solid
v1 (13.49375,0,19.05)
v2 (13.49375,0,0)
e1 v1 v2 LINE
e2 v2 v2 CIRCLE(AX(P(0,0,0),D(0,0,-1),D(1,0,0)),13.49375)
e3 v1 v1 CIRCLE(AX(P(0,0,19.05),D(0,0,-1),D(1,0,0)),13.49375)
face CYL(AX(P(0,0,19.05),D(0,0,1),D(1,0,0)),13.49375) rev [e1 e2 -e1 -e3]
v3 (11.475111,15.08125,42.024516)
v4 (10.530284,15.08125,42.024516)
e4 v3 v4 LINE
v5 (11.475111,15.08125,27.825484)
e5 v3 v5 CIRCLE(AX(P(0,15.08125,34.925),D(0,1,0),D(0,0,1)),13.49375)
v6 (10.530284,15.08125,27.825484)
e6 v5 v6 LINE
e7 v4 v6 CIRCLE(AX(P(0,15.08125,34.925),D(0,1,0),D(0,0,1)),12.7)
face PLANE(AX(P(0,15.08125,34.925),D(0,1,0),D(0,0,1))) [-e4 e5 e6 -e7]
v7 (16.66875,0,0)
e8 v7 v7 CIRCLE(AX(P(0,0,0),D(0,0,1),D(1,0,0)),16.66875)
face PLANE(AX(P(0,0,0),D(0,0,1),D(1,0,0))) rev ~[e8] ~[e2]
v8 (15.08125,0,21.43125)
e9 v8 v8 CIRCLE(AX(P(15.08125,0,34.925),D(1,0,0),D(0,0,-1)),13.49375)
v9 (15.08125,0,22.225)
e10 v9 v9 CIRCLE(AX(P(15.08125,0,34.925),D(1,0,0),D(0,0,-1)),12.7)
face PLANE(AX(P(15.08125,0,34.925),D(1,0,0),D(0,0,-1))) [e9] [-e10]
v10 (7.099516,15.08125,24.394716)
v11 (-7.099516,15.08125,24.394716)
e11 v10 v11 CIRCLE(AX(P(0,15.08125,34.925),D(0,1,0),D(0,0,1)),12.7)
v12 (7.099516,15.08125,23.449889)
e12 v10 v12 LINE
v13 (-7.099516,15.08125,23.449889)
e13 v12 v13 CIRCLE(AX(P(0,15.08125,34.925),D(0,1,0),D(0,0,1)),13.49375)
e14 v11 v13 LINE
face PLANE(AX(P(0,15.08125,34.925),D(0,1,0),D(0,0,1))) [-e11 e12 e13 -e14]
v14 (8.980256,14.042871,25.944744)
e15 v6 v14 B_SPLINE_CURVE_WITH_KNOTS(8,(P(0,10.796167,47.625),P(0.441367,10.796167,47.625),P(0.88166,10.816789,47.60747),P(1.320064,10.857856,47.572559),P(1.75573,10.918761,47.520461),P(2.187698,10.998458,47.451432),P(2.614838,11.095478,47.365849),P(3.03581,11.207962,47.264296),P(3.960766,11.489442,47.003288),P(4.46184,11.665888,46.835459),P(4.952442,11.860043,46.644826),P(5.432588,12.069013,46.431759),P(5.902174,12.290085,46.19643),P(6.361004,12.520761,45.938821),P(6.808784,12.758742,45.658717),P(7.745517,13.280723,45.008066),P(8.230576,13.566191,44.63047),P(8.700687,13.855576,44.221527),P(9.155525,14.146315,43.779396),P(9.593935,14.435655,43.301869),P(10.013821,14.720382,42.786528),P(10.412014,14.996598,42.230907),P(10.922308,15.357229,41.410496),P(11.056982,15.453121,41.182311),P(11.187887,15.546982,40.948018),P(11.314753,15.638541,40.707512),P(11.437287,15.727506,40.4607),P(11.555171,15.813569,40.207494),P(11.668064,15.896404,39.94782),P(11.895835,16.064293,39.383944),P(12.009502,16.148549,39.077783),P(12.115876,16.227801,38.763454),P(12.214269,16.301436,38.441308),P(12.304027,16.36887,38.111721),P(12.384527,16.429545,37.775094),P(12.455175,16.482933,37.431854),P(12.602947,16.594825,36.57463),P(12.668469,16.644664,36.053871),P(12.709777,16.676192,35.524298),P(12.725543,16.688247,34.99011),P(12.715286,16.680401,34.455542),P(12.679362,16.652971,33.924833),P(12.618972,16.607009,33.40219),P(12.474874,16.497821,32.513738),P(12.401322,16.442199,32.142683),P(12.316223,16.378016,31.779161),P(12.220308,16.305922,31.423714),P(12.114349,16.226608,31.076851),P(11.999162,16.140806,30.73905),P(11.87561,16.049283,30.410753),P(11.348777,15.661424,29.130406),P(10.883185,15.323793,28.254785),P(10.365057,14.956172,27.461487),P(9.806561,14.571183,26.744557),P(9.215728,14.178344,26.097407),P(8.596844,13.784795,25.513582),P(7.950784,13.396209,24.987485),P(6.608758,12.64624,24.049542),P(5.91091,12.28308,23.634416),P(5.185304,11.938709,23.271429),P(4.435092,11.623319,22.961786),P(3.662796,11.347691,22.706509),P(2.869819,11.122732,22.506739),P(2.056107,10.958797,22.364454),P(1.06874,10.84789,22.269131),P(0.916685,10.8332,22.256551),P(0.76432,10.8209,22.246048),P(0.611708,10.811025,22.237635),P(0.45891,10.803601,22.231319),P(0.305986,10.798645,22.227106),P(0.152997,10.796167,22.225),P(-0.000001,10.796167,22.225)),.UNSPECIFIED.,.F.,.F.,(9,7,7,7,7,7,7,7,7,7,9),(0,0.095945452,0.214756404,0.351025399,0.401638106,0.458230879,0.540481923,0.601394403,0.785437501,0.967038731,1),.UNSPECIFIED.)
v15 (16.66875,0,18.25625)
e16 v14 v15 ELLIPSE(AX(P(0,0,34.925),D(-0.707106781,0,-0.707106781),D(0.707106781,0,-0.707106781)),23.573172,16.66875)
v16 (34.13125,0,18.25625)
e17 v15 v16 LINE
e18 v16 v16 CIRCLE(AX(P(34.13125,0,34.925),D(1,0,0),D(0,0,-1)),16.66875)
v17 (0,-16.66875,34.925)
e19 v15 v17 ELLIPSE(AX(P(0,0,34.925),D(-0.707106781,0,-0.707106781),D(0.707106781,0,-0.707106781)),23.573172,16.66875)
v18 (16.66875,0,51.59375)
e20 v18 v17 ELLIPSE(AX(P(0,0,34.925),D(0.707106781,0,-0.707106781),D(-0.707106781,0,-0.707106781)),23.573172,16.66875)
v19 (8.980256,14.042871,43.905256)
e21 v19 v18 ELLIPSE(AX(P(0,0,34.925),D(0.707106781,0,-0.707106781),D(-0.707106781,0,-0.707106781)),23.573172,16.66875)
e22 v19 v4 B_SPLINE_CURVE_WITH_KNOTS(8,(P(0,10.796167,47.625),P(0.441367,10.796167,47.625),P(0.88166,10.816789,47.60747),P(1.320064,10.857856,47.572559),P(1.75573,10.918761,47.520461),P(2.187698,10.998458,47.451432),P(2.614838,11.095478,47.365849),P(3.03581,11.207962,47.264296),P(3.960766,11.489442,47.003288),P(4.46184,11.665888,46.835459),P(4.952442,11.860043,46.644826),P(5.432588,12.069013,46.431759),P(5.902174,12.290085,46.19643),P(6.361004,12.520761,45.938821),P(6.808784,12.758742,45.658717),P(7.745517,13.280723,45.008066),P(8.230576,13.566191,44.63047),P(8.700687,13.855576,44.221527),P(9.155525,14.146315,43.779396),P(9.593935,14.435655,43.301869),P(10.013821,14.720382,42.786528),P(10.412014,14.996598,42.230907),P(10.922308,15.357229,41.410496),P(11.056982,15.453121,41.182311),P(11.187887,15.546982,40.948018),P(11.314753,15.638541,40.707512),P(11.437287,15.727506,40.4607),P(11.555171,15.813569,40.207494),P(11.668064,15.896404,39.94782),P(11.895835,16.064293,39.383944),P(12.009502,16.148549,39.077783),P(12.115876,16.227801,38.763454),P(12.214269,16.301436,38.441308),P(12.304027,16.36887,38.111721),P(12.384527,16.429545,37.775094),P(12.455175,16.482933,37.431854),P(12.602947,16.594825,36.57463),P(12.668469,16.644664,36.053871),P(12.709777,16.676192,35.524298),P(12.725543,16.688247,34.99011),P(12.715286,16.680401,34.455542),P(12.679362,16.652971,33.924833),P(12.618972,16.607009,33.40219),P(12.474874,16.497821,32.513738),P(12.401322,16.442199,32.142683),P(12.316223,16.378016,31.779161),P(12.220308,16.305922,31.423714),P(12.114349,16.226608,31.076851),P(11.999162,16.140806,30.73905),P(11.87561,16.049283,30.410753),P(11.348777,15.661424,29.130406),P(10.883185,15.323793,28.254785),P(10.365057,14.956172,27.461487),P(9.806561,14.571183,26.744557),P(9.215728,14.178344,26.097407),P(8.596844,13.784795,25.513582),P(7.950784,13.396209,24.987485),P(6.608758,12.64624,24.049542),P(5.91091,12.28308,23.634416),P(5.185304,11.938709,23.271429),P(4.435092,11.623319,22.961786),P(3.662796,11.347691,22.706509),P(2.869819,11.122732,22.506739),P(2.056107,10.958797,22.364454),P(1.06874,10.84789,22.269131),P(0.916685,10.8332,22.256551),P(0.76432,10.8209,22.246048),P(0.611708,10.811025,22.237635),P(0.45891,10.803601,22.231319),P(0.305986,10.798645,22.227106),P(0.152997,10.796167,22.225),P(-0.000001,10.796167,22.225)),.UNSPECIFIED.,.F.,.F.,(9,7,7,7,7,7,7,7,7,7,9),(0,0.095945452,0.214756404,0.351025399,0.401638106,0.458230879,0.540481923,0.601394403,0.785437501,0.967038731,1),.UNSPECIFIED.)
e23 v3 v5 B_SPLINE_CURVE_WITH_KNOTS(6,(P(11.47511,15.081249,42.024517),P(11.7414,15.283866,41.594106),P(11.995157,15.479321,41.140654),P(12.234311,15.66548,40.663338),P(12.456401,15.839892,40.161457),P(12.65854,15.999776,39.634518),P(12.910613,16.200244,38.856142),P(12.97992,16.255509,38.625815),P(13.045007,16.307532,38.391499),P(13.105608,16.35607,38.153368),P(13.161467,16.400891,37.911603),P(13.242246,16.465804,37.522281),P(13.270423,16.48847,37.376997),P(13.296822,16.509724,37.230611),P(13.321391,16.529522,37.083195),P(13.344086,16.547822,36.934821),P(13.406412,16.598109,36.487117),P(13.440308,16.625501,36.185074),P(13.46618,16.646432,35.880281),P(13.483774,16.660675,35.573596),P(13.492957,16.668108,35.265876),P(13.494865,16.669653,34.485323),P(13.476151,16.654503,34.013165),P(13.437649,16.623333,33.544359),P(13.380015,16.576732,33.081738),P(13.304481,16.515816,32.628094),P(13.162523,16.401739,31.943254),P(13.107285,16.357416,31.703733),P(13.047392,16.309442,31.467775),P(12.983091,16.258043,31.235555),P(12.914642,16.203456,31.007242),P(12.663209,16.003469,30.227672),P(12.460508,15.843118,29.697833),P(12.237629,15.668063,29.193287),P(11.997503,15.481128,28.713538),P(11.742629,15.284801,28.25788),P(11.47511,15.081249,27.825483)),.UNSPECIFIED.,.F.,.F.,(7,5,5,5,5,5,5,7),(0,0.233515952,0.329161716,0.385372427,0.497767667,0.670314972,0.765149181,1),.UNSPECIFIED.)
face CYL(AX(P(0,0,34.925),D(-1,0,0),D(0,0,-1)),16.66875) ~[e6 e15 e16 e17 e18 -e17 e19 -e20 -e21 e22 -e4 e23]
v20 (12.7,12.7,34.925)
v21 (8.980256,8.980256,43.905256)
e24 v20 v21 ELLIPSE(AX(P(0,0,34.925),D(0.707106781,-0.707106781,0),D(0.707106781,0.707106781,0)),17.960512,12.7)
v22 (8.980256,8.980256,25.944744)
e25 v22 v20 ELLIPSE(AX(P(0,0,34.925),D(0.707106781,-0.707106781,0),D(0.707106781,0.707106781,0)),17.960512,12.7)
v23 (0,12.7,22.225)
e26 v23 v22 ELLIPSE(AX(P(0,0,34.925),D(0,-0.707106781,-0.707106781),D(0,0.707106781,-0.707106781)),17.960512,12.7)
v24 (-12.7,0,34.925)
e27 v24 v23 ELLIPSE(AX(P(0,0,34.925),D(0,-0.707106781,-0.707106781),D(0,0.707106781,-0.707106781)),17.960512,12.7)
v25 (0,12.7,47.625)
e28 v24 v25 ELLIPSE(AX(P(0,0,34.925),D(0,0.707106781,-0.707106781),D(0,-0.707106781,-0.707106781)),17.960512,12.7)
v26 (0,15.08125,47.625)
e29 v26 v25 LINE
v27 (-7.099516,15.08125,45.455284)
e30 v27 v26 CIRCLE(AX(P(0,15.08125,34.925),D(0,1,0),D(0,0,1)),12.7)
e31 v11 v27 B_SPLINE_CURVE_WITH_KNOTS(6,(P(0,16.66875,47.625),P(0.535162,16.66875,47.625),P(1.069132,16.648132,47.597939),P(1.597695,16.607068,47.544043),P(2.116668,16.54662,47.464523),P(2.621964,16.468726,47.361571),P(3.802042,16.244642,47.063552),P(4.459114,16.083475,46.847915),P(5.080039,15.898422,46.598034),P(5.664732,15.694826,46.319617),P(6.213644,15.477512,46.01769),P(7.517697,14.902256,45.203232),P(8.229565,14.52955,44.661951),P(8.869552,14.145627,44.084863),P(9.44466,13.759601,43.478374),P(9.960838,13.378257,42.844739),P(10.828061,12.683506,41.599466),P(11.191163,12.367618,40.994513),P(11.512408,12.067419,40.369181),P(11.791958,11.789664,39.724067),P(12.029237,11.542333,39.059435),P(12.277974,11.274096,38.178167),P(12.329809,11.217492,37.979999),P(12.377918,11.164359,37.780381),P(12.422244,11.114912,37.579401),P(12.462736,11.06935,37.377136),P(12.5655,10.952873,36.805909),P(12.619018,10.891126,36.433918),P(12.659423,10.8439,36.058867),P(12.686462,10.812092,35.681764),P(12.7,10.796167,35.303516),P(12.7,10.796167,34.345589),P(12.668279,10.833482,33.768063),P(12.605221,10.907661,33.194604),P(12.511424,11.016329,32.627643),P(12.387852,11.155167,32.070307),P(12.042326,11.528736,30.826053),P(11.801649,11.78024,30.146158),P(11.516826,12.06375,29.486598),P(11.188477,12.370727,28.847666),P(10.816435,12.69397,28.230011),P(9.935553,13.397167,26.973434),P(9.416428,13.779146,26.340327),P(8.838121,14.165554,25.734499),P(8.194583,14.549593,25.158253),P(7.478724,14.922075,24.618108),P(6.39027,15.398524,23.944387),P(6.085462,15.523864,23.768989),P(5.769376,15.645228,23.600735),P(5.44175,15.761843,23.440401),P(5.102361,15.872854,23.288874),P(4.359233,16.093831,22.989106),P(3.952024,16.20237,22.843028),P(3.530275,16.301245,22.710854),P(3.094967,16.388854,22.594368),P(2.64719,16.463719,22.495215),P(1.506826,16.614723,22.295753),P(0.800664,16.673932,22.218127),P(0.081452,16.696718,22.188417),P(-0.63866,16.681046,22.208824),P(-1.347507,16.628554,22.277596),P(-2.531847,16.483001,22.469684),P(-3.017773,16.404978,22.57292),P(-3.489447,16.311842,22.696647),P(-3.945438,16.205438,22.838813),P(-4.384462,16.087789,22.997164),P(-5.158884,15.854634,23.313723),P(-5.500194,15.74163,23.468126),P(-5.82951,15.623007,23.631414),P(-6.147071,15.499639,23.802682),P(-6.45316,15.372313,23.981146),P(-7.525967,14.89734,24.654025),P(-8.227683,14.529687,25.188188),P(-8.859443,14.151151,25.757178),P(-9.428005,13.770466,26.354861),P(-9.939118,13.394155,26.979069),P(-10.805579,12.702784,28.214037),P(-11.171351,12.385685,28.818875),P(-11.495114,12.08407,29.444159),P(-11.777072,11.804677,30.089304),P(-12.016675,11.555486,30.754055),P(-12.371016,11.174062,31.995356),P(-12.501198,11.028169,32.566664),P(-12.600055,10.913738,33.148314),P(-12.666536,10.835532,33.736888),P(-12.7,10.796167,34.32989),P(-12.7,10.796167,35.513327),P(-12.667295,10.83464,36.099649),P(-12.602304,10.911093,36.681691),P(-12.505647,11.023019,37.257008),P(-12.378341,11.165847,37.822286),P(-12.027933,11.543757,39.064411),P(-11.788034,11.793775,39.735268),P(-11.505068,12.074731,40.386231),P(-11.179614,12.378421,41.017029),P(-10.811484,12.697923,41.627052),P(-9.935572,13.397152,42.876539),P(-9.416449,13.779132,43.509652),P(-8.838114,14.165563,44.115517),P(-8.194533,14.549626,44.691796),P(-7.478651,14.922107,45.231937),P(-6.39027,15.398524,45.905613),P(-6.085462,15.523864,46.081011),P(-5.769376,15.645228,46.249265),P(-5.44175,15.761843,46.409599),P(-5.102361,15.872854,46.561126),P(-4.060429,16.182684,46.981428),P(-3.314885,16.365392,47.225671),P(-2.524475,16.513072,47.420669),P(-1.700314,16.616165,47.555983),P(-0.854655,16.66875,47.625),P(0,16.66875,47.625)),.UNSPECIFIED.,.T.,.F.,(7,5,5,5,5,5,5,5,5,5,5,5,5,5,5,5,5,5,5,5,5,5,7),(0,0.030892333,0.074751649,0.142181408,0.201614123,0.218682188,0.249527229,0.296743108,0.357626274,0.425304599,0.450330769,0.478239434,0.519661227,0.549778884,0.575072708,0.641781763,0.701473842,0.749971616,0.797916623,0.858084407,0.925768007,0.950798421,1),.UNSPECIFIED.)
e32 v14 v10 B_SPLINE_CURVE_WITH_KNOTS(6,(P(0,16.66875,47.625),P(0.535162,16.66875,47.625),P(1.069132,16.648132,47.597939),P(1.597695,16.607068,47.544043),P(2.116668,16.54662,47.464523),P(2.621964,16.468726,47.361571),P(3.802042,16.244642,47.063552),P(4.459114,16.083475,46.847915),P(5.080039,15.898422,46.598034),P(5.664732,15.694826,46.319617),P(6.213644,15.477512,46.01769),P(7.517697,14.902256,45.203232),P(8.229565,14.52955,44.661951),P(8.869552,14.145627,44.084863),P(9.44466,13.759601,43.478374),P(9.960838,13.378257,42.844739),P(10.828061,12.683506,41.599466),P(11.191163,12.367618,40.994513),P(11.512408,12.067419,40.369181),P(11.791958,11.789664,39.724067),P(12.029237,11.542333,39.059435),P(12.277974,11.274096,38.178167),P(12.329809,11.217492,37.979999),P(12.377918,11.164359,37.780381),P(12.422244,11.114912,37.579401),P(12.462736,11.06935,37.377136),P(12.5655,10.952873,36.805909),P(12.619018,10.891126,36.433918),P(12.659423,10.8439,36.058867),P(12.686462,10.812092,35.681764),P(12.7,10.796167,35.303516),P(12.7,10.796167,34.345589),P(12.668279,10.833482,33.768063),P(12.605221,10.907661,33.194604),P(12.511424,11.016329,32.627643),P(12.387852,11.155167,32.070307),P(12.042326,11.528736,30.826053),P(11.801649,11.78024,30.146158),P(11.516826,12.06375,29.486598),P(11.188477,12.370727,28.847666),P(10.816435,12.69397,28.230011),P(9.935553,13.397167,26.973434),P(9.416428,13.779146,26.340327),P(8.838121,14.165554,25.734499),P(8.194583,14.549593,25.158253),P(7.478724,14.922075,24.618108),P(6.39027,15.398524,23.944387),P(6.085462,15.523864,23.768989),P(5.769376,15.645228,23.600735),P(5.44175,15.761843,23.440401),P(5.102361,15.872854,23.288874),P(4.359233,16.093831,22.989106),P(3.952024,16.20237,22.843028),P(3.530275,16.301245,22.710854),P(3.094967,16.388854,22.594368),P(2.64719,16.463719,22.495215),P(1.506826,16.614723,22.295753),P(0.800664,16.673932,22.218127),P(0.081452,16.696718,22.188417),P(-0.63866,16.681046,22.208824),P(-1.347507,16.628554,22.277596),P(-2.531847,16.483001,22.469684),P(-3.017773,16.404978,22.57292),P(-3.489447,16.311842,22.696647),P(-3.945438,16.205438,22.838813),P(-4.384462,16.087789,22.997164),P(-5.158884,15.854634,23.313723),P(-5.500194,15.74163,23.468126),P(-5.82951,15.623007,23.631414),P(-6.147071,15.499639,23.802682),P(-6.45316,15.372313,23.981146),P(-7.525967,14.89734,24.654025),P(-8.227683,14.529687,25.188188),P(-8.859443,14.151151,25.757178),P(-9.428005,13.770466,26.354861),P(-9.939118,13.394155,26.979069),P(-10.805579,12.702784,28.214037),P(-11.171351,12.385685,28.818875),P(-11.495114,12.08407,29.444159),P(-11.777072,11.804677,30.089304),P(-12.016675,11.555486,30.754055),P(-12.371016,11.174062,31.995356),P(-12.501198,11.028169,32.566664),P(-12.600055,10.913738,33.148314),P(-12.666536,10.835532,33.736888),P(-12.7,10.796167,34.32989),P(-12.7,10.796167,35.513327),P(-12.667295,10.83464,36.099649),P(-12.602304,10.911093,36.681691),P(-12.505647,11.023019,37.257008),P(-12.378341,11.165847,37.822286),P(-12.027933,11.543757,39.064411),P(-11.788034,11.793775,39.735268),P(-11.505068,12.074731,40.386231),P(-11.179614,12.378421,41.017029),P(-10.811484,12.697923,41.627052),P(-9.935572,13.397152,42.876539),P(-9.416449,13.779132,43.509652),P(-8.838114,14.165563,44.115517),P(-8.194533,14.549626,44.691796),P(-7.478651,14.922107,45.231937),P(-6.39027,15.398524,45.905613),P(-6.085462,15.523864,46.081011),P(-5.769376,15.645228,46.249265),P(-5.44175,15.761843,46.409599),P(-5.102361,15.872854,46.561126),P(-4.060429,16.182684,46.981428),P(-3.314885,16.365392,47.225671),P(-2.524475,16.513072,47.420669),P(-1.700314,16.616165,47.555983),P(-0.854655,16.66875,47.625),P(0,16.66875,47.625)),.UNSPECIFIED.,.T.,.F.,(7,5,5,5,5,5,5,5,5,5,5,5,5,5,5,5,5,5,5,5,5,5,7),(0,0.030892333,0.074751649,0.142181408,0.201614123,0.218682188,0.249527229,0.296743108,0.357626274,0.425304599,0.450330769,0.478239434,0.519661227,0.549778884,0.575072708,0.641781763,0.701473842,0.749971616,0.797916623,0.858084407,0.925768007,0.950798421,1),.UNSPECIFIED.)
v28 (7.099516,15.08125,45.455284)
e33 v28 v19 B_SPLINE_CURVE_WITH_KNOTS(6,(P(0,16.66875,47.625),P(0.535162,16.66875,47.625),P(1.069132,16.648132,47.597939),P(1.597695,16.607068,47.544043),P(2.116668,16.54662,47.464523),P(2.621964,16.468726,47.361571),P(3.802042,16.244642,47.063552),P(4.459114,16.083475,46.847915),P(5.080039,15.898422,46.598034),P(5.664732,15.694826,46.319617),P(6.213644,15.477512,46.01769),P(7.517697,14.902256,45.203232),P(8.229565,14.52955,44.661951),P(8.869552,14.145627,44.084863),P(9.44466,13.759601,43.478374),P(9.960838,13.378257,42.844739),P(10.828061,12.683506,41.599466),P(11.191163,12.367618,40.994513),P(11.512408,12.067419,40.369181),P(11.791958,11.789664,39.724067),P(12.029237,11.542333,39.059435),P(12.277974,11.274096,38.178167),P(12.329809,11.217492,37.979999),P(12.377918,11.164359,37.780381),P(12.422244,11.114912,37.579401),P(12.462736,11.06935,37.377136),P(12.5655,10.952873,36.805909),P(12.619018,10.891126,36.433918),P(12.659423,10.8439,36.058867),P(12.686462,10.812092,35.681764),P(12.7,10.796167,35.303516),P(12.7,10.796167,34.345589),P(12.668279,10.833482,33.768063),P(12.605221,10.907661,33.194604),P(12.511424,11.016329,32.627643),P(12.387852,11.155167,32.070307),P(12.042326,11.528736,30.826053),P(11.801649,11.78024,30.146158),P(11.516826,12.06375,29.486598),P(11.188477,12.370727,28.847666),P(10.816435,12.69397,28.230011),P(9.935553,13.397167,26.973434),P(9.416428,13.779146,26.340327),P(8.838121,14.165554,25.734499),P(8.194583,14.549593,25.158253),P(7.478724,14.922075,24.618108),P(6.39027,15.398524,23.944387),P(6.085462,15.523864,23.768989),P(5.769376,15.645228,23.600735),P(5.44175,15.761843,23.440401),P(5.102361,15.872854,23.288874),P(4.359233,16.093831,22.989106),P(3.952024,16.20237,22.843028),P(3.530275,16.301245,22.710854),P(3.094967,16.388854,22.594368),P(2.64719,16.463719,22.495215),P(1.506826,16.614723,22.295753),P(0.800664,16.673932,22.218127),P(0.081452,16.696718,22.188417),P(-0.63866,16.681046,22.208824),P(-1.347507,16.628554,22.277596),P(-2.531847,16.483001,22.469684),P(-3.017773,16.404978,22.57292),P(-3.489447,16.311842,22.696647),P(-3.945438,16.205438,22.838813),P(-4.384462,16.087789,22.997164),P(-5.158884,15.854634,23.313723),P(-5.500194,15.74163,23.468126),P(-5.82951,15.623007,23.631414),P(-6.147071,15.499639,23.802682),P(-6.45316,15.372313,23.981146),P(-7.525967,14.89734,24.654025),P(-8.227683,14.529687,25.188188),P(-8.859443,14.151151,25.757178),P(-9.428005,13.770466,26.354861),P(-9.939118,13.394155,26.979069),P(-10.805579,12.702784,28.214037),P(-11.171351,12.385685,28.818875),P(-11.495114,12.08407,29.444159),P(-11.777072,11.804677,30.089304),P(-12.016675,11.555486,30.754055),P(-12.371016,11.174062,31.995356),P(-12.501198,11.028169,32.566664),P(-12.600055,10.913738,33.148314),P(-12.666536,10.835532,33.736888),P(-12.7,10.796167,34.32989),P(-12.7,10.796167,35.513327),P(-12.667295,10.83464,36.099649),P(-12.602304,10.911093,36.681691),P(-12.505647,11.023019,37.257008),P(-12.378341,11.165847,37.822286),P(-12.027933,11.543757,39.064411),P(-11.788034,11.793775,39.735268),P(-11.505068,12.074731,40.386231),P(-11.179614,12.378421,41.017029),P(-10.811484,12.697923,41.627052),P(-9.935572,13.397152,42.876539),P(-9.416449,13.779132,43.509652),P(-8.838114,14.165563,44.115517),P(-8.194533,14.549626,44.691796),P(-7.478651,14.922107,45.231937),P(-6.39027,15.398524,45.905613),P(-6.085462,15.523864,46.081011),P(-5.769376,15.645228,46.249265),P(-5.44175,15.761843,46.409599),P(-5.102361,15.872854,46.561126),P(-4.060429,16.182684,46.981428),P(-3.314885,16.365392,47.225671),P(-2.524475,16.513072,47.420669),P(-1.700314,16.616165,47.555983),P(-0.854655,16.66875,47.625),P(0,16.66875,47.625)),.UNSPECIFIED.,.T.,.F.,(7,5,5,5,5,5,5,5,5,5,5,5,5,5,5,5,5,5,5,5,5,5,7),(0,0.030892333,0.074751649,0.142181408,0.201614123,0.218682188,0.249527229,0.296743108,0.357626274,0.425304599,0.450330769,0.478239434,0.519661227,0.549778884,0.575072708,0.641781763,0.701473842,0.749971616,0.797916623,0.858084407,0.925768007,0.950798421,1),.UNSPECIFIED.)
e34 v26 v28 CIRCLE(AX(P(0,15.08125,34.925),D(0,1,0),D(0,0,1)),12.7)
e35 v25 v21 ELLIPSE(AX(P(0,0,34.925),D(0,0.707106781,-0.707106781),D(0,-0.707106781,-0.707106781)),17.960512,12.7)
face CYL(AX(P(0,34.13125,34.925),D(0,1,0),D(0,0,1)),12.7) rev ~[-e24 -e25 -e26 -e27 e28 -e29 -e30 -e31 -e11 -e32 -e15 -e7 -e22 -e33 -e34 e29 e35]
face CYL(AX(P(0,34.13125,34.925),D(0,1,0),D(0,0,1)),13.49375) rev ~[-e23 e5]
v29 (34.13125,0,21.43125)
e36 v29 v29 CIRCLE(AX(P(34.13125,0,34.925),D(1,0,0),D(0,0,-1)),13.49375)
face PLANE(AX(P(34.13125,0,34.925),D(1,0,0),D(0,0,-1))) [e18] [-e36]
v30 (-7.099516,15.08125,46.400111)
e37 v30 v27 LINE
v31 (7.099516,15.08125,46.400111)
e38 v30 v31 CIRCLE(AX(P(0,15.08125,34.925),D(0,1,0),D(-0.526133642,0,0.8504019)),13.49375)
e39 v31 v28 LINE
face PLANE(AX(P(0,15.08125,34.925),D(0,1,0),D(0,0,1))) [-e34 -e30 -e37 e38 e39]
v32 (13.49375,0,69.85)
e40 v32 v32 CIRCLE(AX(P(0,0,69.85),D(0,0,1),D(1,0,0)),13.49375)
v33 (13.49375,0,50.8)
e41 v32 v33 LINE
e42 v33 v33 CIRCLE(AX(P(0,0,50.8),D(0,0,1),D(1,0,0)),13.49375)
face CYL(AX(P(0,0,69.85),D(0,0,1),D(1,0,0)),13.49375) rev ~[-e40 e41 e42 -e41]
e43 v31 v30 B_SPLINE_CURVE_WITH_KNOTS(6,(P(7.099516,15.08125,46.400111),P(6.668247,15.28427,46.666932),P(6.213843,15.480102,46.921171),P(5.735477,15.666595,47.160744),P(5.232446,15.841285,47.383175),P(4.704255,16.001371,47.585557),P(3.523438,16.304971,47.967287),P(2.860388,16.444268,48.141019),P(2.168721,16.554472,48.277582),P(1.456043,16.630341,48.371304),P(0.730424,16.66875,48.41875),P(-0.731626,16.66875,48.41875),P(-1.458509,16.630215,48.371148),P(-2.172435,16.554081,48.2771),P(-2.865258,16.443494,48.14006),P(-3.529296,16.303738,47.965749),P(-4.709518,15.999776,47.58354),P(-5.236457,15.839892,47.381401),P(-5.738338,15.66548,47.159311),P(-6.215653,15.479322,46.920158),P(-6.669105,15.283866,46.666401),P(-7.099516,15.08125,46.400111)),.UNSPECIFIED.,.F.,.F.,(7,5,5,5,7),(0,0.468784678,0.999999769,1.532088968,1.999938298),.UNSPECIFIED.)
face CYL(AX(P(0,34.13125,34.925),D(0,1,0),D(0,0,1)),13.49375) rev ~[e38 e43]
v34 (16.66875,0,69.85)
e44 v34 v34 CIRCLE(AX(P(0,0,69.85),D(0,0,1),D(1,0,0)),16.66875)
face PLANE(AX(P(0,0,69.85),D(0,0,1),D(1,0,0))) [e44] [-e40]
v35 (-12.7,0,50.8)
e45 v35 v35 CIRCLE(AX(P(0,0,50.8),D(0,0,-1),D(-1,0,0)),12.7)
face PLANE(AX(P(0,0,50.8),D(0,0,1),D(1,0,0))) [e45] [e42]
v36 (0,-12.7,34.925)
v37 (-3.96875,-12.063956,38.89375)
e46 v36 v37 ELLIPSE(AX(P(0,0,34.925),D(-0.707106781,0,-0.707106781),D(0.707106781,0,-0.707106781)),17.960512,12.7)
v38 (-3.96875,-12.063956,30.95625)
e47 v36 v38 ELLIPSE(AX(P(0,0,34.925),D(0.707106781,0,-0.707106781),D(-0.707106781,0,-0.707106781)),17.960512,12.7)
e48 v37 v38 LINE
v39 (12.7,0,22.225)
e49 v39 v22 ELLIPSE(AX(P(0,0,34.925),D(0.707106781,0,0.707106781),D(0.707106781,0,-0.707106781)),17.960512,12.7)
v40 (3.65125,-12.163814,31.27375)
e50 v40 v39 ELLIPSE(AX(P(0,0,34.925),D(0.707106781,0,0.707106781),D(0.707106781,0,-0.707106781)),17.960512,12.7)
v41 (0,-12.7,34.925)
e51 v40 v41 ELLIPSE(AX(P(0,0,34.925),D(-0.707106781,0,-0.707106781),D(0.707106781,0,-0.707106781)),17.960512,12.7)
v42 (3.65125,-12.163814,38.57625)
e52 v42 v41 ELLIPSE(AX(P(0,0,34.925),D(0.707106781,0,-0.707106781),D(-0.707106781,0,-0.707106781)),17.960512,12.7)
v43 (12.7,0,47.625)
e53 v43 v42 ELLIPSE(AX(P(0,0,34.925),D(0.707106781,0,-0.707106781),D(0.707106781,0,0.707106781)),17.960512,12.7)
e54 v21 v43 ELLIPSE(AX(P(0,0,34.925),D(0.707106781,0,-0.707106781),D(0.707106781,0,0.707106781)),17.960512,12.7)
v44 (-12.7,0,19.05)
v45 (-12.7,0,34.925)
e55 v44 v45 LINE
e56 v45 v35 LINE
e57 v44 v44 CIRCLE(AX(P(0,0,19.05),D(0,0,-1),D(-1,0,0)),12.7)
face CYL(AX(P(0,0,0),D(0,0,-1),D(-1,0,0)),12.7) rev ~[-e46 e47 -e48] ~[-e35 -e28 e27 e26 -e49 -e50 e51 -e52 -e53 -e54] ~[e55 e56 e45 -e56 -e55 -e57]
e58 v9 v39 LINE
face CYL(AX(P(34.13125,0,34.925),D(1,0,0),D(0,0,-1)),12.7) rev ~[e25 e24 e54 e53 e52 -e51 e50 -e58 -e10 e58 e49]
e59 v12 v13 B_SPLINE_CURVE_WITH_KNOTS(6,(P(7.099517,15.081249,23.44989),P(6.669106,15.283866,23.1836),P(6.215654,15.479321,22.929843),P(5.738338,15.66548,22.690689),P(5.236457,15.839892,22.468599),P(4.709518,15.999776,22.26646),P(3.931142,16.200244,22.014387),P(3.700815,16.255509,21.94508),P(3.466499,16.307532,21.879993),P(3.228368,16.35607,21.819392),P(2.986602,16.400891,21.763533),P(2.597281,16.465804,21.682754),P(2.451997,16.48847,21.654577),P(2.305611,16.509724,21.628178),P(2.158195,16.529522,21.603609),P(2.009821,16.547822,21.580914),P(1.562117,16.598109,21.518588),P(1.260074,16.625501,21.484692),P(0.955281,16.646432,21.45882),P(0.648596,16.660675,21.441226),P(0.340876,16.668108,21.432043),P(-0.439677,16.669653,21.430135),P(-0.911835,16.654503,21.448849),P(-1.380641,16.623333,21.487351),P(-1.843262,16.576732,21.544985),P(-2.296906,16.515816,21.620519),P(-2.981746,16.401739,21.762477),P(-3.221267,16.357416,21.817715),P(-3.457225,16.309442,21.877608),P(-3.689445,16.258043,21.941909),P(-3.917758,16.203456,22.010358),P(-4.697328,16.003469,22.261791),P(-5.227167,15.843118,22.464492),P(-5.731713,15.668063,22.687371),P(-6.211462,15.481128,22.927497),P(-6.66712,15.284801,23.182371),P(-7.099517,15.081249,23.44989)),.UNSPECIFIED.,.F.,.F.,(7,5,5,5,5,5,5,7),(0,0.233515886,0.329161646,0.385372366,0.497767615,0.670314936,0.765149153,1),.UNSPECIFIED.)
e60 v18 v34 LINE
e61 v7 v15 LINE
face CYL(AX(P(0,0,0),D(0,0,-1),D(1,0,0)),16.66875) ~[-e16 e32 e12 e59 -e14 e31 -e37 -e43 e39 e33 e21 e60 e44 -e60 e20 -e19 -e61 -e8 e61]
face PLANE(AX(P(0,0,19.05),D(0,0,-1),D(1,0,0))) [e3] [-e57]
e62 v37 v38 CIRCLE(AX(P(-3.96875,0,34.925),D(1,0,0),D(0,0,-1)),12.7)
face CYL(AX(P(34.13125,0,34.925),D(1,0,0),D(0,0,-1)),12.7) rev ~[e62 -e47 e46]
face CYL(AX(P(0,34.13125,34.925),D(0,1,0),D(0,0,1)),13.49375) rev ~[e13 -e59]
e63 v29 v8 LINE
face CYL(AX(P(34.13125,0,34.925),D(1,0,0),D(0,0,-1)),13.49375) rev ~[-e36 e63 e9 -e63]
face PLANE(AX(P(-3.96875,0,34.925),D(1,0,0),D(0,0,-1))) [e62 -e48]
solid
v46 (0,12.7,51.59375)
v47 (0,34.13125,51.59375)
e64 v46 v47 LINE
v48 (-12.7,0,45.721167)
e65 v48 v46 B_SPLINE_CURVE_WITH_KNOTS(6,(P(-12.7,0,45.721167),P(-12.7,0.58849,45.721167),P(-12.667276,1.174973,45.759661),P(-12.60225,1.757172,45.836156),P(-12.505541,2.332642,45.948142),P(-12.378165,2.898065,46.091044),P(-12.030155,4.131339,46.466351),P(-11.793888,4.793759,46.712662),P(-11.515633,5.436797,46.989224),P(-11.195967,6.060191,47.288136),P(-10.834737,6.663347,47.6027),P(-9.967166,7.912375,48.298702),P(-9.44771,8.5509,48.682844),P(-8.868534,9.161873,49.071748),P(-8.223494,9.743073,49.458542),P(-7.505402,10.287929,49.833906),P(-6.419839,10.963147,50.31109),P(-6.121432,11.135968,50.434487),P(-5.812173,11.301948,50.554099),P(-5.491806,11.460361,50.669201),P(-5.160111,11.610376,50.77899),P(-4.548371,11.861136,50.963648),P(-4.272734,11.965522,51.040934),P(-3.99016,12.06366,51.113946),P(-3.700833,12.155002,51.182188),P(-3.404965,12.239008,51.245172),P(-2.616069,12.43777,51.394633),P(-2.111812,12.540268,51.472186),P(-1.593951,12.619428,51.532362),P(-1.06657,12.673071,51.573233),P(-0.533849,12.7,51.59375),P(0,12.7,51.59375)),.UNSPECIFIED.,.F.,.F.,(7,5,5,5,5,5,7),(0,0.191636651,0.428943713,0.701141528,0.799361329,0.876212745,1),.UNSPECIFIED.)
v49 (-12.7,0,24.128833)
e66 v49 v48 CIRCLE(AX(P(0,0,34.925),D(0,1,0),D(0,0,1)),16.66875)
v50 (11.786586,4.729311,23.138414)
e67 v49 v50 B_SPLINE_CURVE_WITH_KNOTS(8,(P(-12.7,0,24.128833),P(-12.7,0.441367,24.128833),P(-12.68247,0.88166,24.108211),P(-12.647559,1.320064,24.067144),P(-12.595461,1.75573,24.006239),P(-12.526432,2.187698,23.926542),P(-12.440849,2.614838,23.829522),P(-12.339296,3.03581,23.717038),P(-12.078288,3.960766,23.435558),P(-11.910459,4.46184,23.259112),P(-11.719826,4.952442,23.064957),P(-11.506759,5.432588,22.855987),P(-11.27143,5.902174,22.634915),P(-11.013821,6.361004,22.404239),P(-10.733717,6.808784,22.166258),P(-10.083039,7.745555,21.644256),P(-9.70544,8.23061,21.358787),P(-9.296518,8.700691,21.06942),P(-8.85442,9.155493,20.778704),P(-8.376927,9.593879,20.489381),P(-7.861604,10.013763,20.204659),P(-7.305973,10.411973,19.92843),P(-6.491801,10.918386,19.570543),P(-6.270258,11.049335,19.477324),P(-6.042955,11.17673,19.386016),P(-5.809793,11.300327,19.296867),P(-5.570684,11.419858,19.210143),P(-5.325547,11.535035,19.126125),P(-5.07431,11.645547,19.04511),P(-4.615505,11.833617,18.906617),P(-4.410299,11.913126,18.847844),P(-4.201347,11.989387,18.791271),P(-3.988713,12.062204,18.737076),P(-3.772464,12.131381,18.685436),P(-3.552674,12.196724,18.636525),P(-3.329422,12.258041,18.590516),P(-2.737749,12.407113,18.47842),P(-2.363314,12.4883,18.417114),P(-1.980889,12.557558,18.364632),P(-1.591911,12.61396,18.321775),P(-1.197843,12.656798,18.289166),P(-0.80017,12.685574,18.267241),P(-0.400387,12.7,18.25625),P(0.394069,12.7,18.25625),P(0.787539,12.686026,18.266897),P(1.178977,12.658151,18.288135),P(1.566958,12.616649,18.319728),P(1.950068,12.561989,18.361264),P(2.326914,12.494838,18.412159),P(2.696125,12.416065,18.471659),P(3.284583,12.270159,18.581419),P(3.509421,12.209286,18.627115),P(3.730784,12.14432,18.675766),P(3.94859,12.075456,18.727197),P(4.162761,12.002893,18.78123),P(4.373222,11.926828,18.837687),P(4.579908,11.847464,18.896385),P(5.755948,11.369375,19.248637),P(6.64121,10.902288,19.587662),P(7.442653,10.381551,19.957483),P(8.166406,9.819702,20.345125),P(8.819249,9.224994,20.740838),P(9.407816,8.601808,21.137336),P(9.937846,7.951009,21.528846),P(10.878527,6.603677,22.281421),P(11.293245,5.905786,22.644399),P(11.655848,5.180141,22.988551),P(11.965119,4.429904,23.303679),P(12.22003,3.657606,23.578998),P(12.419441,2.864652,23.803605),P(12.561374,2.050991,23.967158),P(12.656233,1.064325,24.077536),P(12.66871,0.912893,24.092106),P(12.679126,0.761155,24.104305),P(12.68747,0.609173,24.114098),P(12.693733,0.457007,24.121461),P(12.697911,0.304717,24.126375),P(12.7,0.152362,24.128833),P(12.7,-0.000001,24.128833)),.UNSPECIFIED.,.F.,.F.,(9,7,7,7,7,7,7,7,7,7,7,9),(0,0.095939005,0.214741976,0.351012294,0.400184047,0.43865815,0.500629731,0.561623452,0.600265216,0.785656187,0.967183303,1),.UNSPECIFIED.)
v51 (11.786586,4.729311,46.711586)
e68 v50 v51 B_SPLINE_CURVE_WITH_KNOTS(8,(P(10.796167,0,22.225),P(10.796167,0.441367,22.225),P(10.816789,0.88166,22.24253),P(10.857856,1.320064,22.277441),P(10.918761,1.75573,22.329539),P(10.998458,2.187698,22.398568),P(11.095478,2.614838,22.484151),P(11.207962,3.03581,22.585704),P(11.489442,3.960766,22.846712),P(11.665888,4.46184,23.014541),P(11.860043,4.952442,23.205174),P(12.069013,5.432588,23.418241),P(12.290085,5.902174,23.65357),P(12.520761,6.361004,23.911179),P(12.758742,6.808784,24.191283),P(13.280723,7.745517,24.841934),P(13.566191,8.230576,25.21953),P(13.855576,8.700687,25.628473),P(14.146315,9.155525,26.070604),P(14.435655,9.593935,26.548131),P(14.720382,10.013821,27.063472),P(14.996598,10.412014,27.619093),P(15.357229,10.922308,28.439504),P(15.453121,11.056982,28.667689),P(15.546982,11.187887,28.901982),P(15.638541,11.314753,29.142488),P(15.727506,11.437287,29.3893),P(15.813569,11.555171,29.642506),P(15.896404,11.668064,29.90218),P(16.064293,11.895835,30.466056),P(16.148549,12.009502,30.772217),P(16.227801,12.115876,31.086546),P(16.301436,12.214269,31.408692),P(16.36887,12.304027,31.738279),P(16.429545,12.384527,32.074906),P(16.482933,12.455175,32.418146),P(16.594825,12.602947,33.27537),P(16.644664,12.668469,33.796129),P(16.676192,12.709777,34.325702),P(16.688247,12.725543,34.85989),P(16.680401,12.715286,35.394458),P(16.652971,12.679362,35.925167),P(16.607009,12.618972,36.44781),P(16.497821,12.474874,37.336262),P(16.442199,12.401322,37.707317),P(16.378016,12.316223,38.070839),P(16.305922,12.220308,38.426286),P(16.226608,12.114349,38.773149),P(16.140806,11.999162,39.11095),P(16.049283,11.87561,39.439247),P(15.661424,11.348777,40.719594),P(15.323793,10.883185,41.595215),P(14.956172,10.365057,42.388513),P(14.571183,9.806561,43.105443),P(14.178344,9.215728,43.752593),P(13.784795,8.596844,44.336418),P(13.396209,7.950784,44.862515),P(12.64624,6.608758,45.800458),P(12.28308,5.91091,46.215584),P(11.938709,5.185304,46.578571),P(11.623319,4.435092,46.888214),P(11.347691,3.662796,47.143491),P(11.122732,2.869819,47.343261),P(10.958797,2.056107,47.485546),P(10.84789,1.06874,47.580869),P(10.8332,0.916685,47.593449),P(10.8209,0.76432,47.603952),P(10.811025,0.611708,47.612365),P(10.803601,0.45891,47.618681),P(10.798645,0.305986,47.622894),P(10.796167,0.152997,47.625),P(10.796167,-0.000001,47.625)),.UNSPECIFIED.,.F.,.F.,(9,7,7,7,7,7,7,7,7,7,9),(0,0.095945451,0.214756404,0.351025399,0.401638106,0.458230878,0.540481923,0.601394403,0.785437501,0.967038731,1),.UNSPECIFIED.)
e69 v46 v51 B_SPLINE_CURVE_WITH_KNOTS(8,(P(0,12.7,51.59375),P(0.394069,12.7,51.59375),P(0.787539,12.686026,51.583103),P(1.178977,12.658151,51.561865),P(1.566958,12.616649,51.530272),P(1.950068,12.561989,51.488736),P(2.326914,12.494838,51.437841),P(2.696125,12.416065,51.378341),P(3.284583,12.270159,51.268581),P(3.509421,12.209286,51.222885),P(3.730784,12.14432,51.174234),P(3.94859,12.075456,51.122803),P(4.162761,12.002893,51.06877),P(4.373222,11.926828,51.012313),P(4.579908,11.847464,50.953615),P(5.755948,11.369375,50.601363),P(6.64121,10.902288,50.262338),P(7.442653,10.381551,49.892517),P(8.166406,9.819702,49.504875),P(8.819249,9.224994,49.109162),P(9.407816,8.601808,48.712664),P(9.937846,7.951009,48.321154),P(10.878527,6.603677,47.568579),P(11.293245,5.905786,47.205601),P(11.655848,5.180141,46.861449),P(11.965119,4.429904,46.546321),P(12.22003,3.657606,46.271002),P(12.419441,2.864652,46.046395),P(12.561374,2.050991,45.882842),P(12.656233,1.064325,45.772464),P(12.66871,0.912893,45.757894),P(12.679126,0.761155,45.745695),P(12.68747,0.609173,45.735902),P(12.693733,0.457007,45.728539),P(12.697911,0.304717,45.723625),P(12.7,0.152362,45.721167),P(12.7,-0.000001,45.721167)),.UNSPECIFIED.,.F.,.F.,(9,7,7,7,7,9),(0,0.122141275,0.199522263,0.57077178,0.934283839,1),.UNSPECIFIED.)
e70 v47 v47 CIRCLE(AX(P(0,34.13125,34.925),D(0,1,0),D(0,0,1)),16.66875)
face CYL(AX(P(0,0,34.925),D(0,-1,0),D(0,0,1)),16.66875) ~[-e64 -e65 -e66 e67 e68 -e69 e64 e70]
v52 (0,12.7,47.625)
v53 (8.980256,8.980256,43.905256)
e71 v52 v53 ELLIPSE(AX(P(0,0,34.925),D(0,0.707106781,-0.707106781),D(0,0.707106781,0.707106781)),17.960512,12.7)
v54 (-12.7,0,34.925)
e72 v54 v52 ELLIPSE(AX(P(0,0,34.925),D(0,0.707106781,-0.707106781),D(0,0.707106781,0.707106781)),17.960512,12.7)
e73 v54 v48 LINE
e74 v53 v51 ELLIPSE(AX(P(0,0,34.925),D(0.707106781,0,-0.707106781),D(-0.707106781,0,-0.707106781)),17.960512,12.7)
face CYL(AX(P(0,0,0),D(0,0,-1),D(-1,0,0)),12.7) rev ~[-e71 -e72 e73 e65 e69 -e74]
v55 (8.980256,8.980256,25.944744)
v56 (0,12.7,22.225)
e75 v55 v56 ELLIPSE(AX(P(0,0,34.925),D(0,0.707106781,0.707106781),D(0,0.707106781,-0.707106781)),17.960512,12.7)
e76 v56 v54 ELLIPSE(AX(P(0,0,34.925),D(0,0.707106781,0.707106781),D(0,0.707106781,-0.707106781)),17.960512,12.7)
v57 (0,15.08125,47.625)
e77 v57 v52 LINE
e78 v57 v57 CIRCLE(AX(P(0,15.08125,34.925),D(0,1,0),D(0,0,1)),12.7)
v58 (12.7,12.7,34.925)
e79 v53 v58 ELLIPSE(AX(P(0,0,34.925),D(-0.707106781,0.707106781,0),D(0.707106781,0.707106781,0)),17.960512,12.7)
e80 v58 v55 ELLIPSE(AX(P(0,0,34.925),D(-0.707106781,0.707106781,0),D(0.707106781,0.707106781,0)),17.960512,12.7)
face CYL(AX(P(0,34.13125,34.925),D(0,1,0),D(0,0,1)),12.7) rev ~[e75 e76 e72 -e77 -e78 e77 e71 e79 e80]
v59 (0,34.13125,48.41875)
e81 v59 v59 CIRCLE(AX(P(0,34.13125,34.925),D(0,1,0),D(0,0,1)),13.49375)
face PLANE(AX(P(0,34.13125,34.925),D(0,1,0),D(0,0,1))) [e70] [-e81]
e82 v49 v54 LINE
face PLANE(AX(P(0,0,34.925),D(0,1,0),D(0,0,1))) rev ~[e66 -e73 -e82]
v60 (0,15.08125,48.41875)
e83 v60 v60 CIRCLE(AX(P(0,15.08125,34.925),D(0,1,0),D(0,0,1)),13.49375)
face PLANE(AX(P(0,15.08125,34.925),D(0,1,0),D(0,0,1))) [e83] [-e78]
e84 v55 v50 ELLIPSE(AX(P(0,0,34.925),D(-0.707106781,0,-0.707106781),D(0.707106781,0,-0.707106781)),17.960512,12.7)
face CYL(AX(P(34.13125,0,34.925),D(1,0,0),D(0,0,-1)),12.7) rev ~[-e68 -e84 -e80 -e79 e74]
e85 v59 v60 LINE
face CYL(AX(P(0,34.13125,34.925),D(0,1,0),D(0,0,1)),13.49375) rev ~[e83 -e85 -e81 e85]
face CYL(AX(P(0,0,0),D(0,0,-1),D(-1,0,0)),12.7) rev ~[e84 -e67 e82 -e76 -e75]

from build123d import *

# Parameters (mm, degrees)
SKETCH1_R           = 16.66875
BOSS_EXTRUDE1_DEPTH = 69.85
SKETCH2_R           = 16.66875
BOSS_EXTRUDE2_DEPTH = 34.13125
SKETCH3_R           = 12.7
CUT_EXTRUDE1_DEPTH  = 30.48
SKETCH5_R           = 12.7
CUT_EXTRUDE3_DEPTH  = 80.509822998
SKETCH7_R           = 13.49375
CUT_EXTRUDE4_DEPTH  = 19.05
SKETCH8_R           = 13.49375
CUT_EXTRUDE5_DEPTH  = 19.05
CUT_EXTRUDE6_START  = -19.05
SKETCH9_R           = 13.49375
CUT_EXTRUDE6_DEPTH  = 19.05
SKETCH10_R          = 16.66875
BOSS_EXTRUDE3_DEPTH = 34.13125
SKETCH11_R          = 12.7
CUT_EXTRUDE7_DEPTH  = 34.13125
SKETCH12_R          = 13.49375
CUT_EXTRUDE8_DEPTH  = 19.05
SKETCH13_R          = 12.7
CUT_EXTRUDE9_DEPTH  = 85.905282368
SKETCH14_R          = 12.7
CUT_EXTRUDE10_DEPTH = 38.1


with BuildPart() as part:
    # Sketch1 → Boss-Extrude1 (new body)
    with BuildSketch(Plane.XY):
        Circle(SKETCH1_R)
    extrude(amount=BOSS_EXTRUDE1_DEPTH)

    # Sketch2 → Boss-Extrude2 (add)
    with BuildSketch(Plane(origin=(0, 0, 0), x_dir=(0, 0, -1), z_dir=(1, 0, 0))):
        with Locations((-34.925, 0)):
            Circle(SKETCH2_R)
    extrude(amount=BOSS_EXTRUDE2_DEPTH)

    # Sketch3 → Cut-Extrude1 (cut)
    with BuildSketch(Plane(origin=(34.13125, 0, 0), x_dir=(0, 0, -1), z_dir=(1, 0, 0))):
        with Locations((-34.925, 0)):
            Circle(SKETCH3_R)
    extrude(amount=-CUT_EXTRUDE1_DEPTH, mode=Mode.SUBTRACT)

    # Sketch5 → Cut-Extrude3 (cut, through all)
    with BuildSketch(Plane(origin=(0, 0, 0), x_dir=(-1, 0, 0), z_dir=(0, 0, -1))):
        Circle(SKETCH5_R)
    extrude(amount=-CUT_EXTRUDE3_DEPTH, mode=Mode.SUBTRACT)

    # Sketch7 → Cut-Extrude4 (cut)
    with BuildSketch(Plane.XY.offset(69.85)):
        Circle(SKETCH7_R)
    extrude(amount=-CUT_EXTRUDE4_DEPTH, mode=Mode.SUBTRACT)

    # Sketch8 → Cut-Extrude5 (cut)
    with BuildSketch(Plane(origin=(34.13125, 0, 0), x_dir=(0, 0, -1), z_dir=(1, 0, 0))):
        with Locations((-34.925, 0)):
            Circle(SKETCH8_R)
    extrude(amount=-CUT_EXTRUDE5_DEPTH, mode=Mode.SUBTRACT)

    # Sketch9 → Cut-Extrude6 (cut)
    with BuildSketch(Plane(origin=(0, 0, 0), x_dir=(-1, 0, 0), z_dir=(0, 0, -1)).offset(CUT_EXTRUDE6_START)):
        with Locations(Location((0, 0, 0), (0, 0, 180))):
            Circle(SKETCH9_R)
    extrude(amount=CUT_EXTRUDE6_DEPTH, mode=Mode.SUBTRACT)


with BuildPart() as body_2:
    # Sketch10 → Boss-Extrude3 (new body)
    with BuildSketch(Plane(origin=(0, 0, 0), x_dir=(1, 0, 0), z_dir=(0, 1, 0))):
        with Locations(Location((0, -34.925, 0), (0, 0, 270))):
            Circle(SKETCH10_R)
    extrude(amount=BOSS_EXTRUDE3_DEPTH)


with BuildPart() as cut_extrude7_tool:
    # Sketch11 → Cut-Extrude7 (new body)
    with BuildSketch(Plane(origin=(0, 34.13125, 0), x_dir=(1, 0, 0), z_dir=(0, 1, 0))):
        with Locations(Location((0, -34.925, 0), (0, 0, 270))):
            Circle(SKETCH11_R)
    extrude(amount=-CUT_EXTRUDE7_DEPTH)


with BuildPart() as part_1:
    add(part.part)

    # Cut-Extrude7: cut by cut_extrude7_tool
    add(cut_extrude7_tool.part, mode=Mode.SUBTRACT)


with BuildPart() as body_2_1:
    add(body_2.part)

    # Cut-Extrude7: cut by cut_extrude7_tool
    add(cut_extrude7_tool.part, mode=Mode.SUBTRACT)


with BuildPart() as cut_extrude8_tool:
    # Sketch12 → Cut-Extrude8 (new body)
    with BuildSketch(Plane(origin=(0, 34.13125, 0), x_dir=(1, 0, 0), z_dir=(0, 1, 0))):
        with Locations(Location((0, -34.925, 0), (0, 0, 270))):
            Circle(SKETCH12_R)
    extrude(amount=-CUT_EXTRUDE8_DEPTH)


with BuildPart() as part_2:
    add(part_1.part)

    # Cut-Extrude8: cut by cut_extrude8_tool
    add(cut_extrude8_tool.part, mode=Mode.SUBTRACT)


with BuildPart() as body_2_2:
    add(body_2_1.part)

    # Cut-Extrude8: cut by cut_extrude8_tool
    add(cut_extrude8_tool.part, mode=Mode.SUBTRACT)

    # Sketch13 → Cut-Extrude9 (cut, through all)
    with BuildSketch(Plane(origin=(0, 0, 0), x_dir=(-1, 0, 0), z_dir=(0, 0, -1))):
        Circle(SKETCH13_R)
    extrude(amount=-CUT_EXTRUDE9_DEPTH, mode=Mode.SUBTRACT)


with BuildPart() as cut_extrude10_tool:
    # Sketch14 → Cut-Extrude10 (new body)
    with BuildSketch(Plane(origin=(34.13125, 0, 0), x_dir=(0, 0, -1), z_dir=(1, 0, 0))):
        with Locations((-34.925, 0)):
            Circle(SKETCH14_R)
    extrude(amount=-CUT_EXTRUDE10_DEPTH)


with BuildPart() as part_3:
    add(part_2.part)

    # Cut-Extrude10: cut by cut_extrude10_tool
    add(cut_extrude10_tool.part, mode=Mode.SUBTRACT)


with BuildPart() as body_2_3:
    add(body_2_2.part)

    # Cut-Extrude10: cut by cut_extrude10_tool
    add(cut_extrude10_tool.part, mode=Mode.SUBTRACT)


solid = Compound([part_3.part, body_2_3.part])
